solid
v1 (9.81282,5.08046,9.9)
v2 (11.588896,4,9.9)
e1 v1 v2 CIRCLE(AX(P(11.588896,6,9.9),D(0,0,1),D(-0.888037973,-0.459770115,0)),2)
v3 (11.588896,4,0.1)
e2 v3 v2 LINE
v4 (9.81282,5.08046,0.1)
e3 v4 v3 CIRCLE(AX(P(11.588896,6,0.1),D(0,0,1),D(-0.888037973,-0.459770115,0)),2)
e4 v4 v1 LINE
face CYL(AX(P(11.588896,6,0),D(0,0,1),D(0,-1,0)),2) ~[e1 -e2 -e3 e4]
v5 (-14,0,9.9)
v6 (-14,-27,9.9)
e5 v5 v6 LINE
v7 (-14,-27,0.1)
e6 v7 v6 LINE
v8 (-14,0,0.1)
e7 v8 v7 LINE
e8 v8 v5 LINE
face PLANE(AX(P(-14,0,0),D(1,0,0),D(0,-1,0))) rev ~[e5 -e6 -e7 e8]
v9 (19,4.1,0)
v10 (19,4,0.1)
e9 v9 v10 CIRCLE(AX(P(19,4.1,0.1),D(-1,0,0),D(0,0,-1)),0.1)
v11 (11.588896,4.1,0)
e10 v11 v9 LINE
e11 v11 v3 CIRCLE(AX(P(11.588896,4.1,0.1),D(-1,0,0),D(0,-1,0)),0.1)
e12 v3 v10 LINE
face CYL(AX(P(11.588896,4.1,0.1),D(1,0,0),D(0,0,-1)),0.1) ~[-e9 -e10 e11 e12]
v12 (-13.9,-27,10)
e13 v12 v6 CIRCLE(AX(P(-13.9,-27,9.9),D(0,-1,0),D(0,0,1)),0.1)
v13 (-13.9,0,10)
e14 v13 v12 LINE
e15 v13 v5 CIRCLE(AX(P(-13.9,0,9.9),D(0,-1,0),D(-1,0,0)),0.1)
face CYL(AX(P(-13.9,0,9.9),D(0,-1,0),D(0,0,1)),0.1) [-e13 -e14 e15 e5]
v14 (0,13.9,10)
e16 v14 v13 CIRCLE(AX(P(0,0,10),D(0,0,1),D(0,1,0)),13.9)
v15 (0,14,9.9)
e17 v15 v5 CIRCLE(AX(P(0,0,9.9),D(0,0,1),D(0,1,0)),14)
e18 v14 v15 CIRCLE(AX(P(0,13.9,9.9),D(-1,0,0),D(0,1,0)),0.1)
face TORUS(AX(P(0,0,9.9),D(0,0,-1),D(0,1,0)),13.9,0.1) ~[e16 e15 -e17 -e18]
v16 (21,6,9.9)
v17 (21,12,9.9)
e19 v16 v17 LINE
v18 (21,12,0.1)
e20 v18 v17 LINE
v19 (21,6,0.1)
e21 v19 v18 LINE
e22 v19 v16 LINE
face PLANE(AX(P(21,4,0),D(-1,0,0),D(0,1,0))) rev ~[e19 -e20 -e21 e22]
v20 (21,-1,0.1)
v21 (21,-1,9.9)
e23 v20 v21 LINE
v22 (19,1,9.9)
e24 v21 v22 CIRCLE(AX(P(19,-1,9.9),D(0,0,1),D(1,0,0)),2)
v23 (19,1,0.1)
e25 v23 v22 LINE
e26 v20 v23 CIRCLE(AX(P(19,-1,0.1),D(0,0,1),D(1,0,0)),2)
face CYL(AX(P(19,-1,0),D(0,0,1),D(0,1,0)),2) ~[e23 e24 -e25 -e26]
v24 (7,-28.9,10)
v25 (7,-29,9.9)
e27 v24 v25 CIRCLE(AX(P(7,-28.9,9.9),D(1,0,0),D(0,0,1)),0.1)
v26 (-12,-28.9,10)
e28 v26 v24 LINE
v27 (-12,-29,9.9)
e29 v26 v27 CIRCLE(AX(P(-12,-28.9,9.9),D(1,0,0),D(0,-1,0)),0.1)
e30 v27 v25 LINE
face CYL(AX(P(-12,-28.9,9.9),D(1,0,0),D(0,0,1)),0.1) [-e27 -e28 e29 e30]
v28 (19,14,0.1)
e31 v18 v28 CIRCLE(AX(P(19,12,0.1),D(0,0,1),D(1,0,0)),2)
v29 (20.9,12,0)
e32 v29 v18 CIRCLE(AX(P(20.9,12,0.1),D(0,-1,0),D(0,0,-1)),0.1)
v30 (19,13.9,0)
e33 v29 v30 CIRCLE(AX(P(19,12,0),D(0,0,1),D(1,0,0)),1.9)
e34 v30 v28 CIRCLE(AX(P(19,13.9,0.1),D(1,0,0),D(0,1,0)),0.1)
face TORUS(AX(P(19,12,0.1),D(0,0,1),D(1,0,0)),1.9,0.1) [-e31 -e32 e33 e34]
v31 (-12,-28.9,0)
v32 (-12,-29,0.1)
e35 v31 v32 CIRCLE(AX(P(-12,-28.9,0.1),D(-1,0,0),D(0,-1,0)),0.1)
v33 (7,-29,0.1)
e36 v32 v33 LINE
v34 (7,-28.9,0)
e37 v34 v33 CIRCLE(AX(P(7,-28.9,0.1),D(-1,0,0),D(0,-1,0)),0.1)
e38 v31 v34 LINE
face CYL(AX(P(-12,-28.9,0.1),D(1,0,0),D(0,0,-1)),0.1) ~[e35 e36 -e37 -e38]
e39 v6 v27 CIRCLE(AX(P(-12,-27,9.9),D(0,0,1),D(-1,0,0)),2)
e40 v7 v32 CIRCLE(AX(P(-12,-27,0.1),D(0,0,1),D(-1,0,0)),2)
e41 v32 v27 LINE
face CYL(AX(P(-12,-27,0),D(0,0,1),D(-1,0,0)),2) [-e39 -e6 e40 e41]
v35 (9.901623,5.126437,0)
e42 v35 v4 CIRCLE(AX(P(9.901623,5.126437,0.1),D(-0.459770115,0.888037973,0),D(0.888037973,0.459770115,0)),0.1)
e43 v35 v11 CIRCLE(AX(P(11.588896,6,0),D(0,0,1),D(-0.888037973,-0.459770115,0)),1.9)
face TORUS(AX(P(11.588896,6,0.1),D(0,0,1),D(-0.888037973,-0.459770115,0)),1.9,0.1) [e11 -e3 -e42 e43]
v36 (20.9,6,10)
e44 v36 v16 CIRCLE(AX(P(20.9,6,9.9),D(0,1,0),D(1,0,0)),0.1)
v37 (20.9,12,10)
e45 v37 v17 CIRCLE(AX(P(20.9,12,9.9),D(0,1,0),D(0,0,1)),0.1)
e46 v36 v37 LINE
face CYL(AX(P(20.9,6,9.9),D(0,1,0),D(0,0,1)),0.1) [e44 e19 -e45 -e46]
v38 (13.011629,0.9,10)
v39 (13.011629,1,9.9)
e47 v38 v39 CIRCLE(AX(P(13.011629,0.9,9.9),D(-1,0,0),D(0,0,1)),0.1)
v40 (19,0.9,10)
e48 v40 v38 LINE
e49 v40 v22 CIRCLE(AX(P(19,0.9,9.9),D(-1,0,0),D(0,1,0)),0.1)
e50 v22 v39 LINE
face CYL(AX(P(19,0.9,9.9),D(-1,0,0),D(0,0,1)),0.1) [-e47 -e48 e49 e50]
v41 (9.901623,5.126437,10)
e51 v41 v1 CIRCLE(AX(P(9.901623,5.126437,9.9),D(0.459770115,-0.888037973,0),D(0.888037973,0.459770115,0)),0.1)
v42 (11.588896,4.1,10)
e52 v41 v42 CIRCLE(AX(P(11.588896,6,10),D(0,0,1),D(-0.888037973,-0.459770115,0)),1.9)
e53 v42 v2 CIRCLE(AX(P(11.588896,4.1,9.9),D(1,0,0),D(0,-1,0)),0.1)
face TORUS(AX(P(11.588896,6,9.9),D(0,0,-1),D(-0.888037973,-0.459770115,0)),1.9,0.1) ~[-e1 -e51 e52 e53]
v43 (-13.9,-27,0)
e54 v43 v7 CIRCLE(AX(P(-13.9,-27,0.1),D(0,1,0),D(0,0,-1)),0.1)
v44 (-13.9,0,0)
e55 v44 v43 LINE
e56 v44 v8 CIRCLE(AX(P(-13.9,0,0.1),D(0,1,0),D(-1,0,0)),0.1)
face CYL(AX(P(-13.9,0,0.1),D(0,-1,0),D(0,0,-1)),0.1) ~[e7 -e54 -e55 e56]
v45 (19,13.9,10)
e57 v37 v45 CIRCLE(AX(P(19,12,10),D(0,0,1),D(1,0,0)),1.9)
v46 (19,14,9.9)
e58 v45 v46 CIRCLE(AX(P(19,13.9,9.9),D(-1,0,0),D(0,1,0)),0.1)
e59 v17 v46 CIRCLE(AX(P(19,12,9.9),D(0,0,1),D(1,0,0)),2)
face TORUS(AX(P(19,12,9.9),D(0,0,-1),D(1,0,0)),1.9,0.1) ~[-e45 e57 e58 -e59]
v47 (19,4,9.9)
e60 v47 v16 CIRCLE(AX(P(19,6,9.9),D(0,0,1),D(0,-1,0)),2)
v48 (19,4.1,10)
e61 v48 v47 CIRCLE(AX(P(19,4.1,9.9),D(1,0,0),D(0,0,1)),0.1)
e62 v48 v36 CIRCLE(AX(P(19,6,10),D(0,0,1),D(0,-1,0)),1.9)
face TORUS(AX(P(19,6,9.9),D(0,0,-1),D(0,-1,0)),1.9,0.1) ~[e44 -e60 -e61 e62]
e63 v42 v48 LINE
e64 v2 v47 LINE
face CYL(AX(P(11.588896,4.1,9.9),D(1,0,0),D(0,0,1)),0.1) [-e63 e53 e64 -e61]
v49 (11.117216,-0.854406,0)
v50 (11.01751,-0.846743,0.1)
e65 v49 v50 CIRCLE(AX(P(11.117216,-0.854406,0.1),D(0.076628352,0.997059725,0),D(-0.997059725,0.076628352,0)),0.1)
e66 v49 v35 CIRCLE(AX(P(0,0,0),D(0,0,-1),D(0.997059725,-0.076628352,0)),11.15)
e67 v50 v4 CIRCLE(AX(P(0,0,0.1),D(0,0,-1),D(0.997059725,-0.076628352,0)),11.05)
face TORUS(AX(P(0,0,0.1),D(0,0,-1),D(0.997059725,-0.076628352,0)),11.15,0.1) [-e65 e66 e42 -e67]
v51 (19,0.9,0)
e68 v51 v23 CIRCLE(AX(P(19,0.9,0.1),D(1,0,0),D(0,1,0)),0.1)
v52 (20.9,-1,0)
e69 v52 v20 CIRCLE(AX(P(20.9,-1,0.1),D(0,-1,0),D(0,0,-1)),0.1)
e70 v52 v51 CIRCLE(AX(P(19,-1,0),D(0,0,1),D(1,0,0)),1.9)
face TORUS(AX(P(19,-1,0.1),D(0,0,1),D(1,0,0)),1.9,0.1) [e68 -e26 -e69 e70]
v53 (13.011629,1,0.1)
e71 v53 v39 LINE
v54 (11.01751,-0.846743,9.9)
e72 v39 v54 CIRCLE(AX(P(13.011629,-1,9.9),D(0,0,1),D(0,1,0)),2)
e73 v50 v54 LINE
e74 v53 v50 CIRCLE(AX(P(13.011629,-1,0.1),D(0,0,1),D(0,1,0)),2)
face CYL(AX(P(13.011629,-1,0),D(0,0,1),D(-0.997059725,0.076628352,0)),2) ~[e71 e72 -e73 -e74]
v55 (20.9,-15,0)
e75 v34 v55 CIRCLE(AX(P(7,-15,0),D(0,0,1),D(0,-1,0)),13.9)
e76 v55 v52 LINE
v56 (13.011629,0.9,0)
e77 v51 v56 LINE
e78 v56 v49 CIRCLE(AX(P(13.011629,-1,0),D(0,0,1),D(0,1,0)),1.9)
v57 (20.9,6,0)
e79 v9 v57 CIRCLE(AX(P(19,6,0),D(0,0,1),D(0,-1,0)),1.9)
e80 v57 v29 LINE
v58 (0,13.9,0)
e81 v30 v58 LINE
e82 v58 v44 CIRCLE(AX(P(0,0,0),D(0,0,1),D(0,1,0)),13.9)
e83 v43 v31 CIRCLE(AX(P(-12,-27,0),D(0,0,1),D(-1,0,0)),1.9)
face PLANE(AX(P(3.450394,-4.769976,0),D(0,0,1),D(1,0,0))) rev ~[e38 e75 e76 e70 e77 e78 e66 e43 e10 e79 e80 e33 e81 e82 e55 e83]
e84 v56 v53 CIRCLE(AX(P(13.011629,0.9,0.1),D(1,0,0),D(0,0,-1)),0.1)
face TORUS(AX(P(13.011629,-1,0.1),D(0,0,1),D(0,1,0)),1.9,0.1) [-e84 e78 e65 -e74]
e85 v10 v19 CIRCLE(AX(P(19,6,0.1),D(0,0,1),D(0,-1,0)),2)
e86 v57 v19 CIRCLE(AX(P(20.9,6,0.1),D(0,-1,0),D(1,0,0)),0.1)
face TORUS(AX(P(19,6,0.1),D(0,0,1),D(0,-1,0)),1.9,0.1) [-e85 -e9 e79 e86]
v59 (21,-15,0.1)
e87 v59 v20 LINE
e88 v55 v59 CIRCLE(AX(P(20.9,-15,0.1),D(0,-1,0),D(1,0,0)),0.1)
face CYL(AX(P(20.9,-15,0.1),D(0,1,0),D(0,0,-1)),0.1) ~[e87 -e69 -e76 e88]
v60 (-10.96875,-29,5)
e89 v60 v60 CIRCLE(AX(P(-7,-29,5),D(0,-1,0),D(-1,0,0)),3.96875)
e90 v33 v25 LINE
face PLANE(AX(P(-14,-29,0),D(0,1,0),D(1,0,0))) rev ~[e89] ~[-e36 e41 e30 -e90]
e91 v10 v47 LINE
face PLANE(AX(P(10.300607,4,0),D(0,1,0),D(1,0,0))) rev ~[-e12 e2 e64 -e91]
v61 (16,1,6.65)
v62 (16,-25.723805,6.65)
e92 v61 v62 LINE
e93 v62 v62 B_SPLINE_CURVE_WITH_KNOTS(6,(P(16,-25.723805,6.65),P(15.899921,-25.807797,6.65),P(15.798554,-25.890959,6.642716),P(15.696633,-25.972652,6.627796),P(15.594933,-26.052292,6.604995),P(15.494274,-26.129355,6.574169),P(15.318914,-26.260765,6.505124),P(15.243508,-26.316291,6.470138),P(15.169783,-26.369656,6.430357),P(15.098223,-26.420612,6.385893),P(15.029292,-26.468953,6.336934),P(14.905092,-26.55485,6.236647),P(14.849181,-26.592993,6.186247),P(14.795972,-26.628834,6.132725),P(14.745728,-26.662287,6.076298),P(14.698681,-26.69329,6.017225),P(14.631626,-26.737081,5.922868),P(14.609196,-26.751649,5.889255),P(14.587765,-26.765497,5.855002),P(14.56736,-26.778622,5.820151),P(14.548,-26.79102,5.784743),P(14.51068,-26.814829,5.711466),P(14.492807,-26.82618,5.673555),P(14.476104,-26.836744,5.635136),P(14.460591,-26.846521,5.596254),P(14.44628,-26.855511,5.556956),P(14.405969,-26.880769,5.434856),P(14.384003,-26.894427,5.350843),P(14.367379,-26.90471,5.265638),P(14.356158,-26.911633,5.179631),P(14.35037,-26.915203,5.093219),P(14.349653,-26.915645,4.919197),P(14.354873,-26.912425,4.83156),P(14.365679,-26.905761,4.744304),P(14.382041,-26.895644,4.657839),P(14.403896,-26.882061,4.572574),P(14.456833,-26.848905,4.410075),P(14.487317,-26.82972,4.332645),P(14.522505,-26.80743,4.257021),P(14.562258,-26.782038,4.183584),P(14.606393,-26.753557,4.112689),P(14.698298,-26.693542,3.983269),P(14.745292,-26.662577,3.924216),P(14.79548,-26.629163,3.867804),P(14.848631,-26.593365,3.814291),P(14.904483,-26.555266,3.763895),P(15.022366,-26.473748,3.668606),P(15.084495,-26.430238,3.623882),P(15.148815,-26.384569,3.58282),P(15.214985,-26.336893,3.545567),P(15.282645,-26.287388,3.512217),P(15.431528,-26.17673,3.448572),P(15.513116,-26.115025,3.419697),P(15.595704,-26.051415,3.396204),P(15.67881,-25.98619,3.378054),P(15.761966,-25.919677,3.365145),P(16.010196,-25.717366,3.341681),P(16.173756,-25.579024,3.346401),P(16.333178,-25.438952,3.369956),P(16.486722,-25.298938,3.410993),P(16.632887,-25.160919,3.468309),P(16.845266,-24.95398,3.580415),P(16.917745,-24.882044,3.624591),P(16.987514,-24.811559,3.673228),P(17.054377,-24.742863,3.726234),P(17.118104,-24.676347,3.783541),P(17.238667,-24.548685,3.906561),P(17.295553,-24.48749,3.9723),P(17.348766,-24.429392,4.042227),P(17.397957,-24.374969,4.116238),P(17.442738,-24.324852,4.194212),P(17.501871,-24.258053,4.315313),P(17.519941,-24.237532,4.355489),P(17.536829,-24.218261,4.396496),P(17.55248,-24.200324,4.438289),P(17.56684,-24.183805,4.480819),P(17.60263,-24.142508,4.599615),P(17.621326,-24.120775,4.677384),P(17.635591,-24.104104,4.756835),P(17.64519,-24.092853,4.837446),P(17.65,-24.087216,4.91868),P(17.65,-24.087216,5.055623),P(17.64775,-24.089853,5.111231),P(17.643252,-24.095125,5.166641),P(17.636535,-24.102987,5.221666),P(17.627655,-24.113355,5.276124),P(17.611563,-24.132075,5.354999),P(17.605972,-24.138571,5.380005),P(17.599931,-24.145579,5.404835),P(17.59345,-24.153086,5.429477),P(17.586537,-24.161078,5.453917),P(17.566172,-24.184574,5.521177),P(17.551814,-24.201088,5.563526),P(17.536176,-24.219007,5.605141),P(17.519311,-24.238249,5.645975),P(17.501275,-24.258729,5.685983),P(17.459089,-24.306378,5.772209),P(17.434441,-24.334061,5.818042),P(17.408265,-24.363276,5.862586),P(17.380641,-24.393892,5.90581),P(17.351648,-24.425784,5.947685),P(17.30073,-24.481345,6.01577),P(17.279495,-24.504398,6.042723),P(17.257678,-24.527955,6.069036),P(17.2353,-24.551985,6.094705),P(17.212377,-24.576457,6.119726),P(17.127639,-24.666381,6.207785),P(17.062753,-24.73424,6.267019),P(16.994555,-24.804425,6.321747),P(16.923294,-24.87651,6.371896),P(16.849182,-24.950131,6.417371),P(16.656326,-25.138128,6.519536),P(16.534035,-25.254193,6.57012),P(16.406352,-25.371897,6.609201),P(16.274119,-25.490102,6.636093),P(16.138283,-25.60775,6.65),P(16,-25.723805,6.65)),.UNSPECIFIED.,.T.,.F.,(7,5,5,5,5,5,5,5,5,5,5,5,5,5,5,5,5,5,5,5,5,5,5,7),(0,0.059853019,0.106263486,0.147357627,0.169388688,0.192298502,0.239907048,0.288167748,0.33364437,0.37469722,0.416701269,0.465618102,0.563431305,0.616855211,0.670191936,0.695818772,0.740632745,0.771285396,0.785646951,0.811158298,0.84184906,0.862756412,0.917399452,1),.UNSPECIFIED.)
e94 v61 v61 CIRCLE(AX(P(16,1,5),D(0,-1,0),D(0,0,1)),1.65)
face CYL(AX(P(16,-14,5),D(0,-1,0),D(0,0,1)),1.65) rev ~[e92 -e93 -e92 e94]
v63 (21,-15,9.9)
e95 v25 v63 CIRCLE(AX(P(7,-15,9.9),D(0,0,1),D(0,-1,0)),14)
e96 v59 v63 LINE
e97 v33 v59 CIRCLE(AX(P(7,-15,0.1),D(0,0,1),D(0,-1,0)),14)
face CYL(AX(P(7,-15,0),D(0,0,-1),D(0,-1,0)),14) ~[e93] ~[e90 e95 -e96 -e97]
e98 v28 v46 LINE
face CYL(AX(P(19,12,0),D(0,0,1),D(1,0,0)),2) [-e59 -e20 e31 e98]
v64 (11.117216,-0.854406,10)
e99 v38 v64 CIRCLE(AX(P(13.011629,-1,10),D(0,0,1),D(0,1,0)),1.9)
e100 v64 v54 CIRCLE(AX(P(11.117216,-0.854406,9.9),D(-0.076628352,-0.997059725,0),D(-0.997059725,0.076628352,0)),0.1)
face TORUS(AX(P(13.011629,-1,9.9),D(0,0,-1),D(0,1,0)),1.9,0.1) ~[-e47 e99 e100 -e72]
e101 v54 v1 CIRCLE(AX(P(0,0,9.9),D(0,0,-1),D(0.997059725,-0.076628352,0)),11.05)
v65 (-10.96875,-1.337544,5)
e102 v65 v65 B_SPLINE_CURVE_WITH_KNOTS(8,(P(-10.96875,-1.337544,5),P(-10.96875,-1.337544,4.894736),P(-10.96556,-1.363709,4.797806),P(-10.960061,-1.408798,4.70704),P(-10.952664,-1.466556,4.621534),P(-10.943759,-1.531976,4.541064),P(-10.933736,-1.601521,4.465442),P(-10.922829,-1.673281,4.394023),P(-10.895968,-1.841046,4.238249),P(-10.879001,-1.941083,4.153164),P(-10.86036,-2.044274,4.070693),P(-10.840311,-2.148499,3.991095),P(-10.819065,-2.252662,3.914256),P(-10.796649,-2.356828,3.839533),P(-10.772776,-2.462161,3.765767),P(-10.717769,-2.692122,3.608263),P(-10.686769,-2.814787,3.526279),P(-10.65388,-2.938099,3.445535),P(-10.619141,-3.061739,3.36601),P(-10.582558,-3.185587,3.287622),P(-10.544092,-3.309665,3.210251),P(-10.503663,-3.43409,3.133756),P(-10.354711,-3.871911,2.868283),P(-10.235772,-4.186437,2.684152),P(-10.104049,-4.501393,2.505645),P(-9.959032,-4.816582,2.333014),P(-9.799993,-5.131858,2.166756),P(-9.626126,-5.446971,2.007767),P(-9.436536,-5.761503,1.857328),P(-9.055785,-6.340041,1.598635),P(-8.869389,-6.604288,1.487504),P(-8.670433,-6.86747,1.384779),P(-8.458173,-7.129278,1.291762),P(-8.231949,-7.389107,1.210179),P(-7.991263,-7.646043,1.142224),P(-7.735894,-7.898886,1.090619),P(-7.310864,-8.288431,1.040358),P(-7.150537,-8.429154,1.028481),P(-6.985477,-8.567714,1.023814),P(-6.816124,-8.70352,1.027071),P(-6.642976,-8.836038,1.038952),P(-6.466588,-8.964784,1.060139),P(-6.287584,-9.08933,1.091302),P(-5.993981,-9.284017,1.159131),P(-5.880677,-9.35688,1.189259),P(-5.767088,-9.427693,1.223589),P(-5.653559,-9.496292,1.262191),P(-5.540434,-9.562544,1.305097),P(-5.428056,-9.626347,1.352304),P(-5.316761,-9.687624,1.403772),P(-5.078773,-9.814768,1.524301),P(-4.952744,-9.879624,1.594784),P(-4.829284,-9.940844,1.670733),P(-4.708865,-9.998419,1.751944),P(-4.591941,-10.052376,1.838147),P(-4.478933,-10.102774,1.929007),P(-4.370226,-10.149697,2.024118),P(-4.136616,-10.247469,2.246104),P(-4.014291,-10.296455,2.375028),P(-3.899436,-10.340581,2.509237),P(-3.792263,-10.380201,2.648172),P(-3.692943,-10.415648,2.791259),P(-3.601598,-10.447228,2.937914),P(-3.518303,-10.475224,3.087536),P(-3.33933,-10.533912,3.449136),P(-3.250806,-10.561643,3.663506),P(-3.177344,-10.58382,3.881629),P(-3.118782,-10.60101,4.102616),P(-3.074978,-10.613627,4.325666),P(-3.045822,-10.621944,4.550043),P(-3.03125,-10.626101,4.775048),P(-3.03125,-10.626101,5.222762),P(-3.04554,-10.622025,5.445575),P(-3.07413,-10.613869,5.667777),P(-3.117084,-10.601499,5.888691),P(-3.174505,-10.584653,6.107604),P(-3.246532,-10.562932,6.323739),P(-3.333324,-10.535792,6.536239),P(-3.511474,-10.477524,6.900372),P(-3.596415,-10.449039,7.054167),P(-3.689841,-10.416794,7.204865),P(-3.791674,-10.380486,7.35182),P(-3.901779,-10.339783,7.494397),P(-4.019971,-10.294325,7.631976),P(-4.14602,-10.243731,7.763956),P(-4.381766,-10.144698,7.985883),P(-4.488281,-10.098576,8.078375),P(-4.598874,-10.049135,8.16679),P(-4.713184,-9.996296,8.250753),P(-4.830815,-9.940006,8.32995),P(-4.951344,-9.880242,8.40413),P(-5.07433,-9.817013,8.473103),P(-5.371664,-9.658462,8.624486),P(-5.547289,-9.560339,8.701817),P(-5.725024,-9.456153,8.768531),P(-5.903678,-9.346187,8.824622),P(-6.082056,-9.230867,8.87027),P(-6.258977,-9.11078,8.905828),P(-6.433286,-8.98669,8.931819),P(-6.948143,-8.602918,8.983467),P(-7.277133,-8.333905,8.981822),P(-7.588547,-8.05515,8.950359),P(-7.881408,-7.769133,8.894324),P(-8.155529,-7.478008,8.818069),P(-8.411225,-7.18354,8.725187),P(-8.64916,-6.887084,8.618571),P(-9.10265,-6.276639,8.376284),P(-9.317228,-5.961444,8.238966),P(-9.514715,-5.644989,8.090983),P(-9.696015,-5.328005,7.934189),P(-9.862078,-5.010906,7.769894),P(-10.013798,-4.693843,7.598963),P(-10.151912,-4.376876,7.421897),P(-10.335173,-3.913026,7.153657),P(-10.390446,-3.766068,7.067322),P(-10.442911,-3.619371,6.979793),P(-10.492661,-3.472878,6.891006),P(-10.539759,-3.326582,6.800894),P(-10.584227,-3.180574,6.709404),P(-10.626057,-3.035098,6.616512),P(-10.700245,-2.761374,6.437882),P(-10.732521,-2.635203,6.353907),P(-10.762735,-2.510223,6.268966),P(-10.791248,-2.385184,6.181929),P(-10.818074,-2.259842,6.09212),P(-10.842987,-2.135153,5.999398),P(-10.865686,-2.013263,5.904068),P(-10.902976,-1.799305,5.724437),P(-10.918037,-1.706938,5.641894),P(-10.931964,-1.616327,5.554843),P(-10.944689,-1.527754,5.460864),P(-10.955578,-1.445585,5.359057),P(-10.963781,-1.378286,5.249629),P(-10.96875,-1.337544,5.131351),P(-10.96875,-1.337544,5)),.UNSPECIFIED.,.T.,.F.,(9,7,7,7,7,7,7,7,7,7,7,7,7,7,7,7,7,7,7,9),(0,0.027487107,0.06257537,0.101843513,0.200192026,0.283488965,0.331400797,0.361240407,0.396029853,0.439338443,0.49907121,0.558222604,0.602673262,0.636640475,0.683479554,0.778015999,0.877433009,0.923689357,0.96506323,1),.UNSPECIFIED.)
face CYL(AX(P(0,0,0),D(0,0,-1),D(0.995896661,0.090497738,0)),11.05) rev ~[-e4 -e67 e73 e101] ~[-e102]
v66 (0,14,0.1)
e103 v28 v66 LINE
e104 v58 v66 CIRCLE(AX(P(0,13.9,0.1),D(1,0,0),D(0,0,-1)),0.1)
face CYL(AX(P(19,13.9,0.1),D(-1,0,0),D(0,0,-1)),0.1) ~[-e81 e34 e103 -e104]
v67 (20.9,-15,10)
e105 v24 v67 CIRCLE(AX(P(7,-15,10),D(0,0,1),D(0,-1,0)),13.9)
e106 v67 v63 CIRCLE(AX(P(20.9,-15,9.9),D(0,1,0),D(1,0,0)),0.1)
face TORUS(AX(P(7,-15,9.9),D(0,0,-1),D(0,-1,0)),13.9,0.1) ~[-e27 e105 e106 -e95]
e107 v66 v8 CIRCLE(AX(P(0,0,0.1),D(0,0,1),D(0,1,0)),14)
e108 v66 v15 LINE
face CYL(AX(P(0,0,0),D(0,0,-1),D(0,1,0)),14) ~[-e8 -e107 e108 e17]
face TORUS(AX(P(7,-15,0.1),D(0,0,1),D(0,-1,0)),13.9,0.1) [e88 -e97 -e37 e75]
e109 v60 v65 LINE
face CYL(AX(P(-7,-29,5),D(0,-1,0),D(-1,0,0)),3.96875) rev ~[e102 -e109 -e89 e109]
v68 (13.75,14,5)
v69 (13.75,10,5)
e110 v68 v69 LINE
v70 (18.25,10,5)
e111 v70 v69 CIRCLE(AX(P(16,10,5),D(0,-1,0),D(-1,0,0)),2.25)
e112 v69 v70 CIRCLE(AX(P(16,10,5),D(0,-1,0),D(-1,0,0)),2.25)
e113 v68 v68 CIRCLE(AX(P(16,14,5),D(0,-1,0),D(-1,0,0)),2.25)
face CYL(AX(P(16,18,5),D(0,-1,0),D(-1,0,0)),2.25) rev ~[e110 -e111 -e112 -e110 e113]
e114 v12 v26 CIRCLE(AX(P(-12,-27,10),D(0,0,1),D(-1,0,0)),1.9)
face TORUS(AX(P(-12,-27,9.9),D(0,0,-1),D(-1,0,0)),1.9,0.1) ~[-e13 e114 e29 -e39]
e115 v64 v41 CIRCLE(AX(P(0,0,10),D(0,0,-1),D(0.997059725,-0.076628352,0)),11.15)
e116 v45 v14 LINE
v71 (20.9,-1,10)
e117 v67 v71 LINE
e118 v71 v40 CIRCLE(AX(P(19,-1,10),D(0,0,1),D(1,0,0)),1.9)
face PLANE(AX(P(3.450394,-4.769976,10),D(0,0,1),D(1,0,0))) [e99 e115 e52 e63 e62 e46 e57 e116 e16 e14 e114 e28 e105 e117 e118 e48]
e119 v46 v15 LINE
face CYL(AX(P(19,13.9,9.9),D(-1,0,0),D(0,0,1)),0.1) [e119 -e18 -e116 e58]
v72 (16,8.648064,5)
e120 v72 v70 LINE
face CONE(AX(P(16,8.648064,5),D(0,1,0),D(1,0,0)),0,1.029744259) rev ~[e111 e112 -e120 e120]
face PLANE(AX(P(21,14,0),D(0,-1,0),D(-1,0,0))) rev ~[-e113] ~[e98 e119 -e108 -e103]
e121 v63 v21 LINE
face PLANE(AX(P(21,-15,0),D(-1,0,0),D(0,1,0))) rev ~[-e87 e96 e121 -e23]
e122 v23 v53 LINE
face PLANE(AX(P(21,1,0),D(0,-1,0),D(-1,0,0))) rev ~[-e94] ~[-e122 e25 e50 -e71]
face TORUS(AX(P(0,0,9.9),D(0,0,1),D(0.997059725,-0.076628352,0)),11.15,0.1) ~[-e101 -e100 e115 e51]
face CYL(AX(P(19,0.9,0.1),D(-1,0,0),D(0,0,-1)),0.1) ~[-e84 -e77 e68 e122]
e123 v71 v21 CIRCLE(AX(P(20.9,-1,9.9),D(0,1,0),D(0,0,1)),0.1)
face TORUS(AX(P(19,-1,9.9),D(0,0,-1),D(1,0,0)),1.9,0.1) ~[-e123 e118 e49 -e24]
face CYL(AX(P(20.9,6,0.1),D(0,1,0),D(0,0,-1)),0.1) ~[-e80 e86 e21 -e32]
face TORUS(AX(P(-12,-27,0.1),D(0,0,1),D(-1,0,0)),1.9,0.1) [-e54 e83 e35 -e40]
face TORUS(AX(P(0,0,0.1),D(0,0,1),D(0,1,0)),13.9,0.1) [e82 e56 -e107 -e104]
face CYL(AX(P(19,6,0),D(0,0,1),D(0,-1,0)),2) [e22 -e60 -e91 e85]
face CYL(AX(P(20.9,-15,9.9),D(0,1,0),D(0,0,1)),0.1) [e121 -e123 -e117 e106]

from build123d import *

# Parameters (mm, degrees)
EXTRUDE_1_DEPTH            = 10
HOLE_WIZARD_M41_D          = 4.5
HOLE_WIZARD_M41_DEPTH      = 4
HOLE_WIZARD_M41_TIP        = 1.351936393
SKETCH_5_W                 = 1.65
SKETCH_5_H                 = 30
HOLE_WIZARD_3_8_161_REACH  = 50.888
HOLE_WIZARD_3_8_161_BORE_R = 3.96875
FILLET_1_R                 = 2
FILLET_2_R                 = 0.1


with BuildPart() as part:
    # Эскиз1 → Бобышка-Вытянуть1 (new body)
    with BuildSketch(Plane.XY):
        with BuildLine():
            Line((10.300606778, 4), (21, 4))
            Line((21, 4), (21, 14))
            Line((21, 14), (0, 14))
            ThreePointArc((0, 14), (-9.899494937, 9.899494937), (-14, 0))
            Line((-14, 0), (-14, -29))
            Line((-14, -29), (7, -29))
            ThreePointArc((7, -29), (16.899494937, -24.899494937), (21, -15))
            Line((21, -15), (21, 1))
            Line((21, 1), (11.004658105, 1))
            ThreePointArc((11.004658105, 1), (-10.757721782, -2.524662763), (10.300606778, 4))
        make_face()
    extrude(amount=EXTRUDE_1_DEPTH)

    # Отверстие с зазором M41
    with Locations(Plane(origin=(0, 14, 0), x_dir=(1, 0, 0), z_dir=(0, 1, 0))):
        with Locations((16, -5)):
            Hole(HOLE_WIZARD_M41_D / 2, depth=HOLE_WIZARD_M41_DEPTH)
            with Locations((0, 0, -(HOLE_WIZARD_M41_DEPTH + HOLE_WIZARD_M41_TIP / 2))):  # 118° drill point
                Cone(0, HOLE_WIZARD_M41_D / 2, HOLE_WIZARD_M41_TIP, mode=Mode.SUBTRACT)

    # Эскиз5 → Отверстие обработанное метчиком M4x0.71 (revolve, cut)
    with BuildSketch(Plane(origin=(16, 1, 5), x_dir=(0, 0, 1), z_dir=(1, 0, 0))):
        with Locations((0.825, 15)):
            Rectangle(SKETCH_5_W, SKETCH_5_H)
    revolve(axis=Axis((16, 7.35, 5), (0, -1, 0)), mode=Mode.SUBTRACT)

    # Отверстие обработанное метчиком 3/8-161 bore → Отверстие обработанное метчиком 3/8-161 (cut, up to next)
    with BuildSketch(Plane(origin=(0, -29, 0), x_dir=(-1, 0, 0), z_dir=(0, -1, 0)), mode=Mode.PRIVATE) as hole_wizard_3_8_161_sk1:
        with Locations((7, -5)):
            Circle(HOLE_WIZARD_3_8_161_BORE_R)
    hole_wizard_3_8_161_tool1 = extrude(hole_wizard_3_8_161_sk1.sketch, amount=-HOLE_WIZARD_3_8_161_REACH, mode=Mode.PRIVATE) & part.part
    add(hole_wizard_3_8_161_tool1.solids().sort_by_distance((-7, -29, 5))[0], mode=Mode.SUBTRACT)

    # Скругление1
    fillet_1_edges = [part.edges().sort_by_distance(p)[0] for p in [
        (11.004658105, 1, 5),
        (21, 1, 5),
        (-14, -29, 5),
        (21, 14, 5),
        (21, 4, 5),
        (10.300606778, 4, 5),
    ]]
    fillet(fillet_1_edges, radius=FILLET_1_R)

    # Скругление2
    fillet_2_edges = [part.edges().sort_by_distance(p)[0] for p in [
        (16.899494937, -24.899494937, 0),
        (-14, -13.5, 0),
        (-9.899494937, 9.899494937, 0),
        (-9.899494937, 9.899494937, 10),
        (-14, -13.5, 10),
        (16.899494937, -24.899494937, 10),
        (21, -8, 10),
        (-2.5, -29, 0),
        (-2.5, -29, 10),
        (-10.828600624, -2.20088812, 0),
        (16.005814707, 1, 0),
        (9.5, 14, 0),
        (21, 9, 0),
        (15.294447774, 4, 0),
        (10.549443879, 4.291333786, 0),
        (11.652680079, 0.467397937, 0),
        (20.414213562, 0.414213562, 0),
        (20.414213562, 4.585786438, 0),
        (20.414213562, 13.414213562, 0),
        (-13.414213562, -28.414213562, 0),
        (-10.828600624, -2.20088812, 10),
        (15.294447774, 4, 10),
        (21, 9, 10),
        (9.5, 14, 10),
        (16.005814707, 1, 10),
        (10.549443879, 4.291333786, 10),
        (11.652680079, 0.467397937, 10),
        (20.414213562, 0.414213562, 10),
        (20.414213562, 4.585786438, 10),
        (20.414213562, 13.414213562, 10),
        (-13.414213562, -28.414213562, 10),
        (21, -8, 0),
    ]]
    fillet(fillet_2_edges, radius=FILLET_2_R)


solid = part.part
